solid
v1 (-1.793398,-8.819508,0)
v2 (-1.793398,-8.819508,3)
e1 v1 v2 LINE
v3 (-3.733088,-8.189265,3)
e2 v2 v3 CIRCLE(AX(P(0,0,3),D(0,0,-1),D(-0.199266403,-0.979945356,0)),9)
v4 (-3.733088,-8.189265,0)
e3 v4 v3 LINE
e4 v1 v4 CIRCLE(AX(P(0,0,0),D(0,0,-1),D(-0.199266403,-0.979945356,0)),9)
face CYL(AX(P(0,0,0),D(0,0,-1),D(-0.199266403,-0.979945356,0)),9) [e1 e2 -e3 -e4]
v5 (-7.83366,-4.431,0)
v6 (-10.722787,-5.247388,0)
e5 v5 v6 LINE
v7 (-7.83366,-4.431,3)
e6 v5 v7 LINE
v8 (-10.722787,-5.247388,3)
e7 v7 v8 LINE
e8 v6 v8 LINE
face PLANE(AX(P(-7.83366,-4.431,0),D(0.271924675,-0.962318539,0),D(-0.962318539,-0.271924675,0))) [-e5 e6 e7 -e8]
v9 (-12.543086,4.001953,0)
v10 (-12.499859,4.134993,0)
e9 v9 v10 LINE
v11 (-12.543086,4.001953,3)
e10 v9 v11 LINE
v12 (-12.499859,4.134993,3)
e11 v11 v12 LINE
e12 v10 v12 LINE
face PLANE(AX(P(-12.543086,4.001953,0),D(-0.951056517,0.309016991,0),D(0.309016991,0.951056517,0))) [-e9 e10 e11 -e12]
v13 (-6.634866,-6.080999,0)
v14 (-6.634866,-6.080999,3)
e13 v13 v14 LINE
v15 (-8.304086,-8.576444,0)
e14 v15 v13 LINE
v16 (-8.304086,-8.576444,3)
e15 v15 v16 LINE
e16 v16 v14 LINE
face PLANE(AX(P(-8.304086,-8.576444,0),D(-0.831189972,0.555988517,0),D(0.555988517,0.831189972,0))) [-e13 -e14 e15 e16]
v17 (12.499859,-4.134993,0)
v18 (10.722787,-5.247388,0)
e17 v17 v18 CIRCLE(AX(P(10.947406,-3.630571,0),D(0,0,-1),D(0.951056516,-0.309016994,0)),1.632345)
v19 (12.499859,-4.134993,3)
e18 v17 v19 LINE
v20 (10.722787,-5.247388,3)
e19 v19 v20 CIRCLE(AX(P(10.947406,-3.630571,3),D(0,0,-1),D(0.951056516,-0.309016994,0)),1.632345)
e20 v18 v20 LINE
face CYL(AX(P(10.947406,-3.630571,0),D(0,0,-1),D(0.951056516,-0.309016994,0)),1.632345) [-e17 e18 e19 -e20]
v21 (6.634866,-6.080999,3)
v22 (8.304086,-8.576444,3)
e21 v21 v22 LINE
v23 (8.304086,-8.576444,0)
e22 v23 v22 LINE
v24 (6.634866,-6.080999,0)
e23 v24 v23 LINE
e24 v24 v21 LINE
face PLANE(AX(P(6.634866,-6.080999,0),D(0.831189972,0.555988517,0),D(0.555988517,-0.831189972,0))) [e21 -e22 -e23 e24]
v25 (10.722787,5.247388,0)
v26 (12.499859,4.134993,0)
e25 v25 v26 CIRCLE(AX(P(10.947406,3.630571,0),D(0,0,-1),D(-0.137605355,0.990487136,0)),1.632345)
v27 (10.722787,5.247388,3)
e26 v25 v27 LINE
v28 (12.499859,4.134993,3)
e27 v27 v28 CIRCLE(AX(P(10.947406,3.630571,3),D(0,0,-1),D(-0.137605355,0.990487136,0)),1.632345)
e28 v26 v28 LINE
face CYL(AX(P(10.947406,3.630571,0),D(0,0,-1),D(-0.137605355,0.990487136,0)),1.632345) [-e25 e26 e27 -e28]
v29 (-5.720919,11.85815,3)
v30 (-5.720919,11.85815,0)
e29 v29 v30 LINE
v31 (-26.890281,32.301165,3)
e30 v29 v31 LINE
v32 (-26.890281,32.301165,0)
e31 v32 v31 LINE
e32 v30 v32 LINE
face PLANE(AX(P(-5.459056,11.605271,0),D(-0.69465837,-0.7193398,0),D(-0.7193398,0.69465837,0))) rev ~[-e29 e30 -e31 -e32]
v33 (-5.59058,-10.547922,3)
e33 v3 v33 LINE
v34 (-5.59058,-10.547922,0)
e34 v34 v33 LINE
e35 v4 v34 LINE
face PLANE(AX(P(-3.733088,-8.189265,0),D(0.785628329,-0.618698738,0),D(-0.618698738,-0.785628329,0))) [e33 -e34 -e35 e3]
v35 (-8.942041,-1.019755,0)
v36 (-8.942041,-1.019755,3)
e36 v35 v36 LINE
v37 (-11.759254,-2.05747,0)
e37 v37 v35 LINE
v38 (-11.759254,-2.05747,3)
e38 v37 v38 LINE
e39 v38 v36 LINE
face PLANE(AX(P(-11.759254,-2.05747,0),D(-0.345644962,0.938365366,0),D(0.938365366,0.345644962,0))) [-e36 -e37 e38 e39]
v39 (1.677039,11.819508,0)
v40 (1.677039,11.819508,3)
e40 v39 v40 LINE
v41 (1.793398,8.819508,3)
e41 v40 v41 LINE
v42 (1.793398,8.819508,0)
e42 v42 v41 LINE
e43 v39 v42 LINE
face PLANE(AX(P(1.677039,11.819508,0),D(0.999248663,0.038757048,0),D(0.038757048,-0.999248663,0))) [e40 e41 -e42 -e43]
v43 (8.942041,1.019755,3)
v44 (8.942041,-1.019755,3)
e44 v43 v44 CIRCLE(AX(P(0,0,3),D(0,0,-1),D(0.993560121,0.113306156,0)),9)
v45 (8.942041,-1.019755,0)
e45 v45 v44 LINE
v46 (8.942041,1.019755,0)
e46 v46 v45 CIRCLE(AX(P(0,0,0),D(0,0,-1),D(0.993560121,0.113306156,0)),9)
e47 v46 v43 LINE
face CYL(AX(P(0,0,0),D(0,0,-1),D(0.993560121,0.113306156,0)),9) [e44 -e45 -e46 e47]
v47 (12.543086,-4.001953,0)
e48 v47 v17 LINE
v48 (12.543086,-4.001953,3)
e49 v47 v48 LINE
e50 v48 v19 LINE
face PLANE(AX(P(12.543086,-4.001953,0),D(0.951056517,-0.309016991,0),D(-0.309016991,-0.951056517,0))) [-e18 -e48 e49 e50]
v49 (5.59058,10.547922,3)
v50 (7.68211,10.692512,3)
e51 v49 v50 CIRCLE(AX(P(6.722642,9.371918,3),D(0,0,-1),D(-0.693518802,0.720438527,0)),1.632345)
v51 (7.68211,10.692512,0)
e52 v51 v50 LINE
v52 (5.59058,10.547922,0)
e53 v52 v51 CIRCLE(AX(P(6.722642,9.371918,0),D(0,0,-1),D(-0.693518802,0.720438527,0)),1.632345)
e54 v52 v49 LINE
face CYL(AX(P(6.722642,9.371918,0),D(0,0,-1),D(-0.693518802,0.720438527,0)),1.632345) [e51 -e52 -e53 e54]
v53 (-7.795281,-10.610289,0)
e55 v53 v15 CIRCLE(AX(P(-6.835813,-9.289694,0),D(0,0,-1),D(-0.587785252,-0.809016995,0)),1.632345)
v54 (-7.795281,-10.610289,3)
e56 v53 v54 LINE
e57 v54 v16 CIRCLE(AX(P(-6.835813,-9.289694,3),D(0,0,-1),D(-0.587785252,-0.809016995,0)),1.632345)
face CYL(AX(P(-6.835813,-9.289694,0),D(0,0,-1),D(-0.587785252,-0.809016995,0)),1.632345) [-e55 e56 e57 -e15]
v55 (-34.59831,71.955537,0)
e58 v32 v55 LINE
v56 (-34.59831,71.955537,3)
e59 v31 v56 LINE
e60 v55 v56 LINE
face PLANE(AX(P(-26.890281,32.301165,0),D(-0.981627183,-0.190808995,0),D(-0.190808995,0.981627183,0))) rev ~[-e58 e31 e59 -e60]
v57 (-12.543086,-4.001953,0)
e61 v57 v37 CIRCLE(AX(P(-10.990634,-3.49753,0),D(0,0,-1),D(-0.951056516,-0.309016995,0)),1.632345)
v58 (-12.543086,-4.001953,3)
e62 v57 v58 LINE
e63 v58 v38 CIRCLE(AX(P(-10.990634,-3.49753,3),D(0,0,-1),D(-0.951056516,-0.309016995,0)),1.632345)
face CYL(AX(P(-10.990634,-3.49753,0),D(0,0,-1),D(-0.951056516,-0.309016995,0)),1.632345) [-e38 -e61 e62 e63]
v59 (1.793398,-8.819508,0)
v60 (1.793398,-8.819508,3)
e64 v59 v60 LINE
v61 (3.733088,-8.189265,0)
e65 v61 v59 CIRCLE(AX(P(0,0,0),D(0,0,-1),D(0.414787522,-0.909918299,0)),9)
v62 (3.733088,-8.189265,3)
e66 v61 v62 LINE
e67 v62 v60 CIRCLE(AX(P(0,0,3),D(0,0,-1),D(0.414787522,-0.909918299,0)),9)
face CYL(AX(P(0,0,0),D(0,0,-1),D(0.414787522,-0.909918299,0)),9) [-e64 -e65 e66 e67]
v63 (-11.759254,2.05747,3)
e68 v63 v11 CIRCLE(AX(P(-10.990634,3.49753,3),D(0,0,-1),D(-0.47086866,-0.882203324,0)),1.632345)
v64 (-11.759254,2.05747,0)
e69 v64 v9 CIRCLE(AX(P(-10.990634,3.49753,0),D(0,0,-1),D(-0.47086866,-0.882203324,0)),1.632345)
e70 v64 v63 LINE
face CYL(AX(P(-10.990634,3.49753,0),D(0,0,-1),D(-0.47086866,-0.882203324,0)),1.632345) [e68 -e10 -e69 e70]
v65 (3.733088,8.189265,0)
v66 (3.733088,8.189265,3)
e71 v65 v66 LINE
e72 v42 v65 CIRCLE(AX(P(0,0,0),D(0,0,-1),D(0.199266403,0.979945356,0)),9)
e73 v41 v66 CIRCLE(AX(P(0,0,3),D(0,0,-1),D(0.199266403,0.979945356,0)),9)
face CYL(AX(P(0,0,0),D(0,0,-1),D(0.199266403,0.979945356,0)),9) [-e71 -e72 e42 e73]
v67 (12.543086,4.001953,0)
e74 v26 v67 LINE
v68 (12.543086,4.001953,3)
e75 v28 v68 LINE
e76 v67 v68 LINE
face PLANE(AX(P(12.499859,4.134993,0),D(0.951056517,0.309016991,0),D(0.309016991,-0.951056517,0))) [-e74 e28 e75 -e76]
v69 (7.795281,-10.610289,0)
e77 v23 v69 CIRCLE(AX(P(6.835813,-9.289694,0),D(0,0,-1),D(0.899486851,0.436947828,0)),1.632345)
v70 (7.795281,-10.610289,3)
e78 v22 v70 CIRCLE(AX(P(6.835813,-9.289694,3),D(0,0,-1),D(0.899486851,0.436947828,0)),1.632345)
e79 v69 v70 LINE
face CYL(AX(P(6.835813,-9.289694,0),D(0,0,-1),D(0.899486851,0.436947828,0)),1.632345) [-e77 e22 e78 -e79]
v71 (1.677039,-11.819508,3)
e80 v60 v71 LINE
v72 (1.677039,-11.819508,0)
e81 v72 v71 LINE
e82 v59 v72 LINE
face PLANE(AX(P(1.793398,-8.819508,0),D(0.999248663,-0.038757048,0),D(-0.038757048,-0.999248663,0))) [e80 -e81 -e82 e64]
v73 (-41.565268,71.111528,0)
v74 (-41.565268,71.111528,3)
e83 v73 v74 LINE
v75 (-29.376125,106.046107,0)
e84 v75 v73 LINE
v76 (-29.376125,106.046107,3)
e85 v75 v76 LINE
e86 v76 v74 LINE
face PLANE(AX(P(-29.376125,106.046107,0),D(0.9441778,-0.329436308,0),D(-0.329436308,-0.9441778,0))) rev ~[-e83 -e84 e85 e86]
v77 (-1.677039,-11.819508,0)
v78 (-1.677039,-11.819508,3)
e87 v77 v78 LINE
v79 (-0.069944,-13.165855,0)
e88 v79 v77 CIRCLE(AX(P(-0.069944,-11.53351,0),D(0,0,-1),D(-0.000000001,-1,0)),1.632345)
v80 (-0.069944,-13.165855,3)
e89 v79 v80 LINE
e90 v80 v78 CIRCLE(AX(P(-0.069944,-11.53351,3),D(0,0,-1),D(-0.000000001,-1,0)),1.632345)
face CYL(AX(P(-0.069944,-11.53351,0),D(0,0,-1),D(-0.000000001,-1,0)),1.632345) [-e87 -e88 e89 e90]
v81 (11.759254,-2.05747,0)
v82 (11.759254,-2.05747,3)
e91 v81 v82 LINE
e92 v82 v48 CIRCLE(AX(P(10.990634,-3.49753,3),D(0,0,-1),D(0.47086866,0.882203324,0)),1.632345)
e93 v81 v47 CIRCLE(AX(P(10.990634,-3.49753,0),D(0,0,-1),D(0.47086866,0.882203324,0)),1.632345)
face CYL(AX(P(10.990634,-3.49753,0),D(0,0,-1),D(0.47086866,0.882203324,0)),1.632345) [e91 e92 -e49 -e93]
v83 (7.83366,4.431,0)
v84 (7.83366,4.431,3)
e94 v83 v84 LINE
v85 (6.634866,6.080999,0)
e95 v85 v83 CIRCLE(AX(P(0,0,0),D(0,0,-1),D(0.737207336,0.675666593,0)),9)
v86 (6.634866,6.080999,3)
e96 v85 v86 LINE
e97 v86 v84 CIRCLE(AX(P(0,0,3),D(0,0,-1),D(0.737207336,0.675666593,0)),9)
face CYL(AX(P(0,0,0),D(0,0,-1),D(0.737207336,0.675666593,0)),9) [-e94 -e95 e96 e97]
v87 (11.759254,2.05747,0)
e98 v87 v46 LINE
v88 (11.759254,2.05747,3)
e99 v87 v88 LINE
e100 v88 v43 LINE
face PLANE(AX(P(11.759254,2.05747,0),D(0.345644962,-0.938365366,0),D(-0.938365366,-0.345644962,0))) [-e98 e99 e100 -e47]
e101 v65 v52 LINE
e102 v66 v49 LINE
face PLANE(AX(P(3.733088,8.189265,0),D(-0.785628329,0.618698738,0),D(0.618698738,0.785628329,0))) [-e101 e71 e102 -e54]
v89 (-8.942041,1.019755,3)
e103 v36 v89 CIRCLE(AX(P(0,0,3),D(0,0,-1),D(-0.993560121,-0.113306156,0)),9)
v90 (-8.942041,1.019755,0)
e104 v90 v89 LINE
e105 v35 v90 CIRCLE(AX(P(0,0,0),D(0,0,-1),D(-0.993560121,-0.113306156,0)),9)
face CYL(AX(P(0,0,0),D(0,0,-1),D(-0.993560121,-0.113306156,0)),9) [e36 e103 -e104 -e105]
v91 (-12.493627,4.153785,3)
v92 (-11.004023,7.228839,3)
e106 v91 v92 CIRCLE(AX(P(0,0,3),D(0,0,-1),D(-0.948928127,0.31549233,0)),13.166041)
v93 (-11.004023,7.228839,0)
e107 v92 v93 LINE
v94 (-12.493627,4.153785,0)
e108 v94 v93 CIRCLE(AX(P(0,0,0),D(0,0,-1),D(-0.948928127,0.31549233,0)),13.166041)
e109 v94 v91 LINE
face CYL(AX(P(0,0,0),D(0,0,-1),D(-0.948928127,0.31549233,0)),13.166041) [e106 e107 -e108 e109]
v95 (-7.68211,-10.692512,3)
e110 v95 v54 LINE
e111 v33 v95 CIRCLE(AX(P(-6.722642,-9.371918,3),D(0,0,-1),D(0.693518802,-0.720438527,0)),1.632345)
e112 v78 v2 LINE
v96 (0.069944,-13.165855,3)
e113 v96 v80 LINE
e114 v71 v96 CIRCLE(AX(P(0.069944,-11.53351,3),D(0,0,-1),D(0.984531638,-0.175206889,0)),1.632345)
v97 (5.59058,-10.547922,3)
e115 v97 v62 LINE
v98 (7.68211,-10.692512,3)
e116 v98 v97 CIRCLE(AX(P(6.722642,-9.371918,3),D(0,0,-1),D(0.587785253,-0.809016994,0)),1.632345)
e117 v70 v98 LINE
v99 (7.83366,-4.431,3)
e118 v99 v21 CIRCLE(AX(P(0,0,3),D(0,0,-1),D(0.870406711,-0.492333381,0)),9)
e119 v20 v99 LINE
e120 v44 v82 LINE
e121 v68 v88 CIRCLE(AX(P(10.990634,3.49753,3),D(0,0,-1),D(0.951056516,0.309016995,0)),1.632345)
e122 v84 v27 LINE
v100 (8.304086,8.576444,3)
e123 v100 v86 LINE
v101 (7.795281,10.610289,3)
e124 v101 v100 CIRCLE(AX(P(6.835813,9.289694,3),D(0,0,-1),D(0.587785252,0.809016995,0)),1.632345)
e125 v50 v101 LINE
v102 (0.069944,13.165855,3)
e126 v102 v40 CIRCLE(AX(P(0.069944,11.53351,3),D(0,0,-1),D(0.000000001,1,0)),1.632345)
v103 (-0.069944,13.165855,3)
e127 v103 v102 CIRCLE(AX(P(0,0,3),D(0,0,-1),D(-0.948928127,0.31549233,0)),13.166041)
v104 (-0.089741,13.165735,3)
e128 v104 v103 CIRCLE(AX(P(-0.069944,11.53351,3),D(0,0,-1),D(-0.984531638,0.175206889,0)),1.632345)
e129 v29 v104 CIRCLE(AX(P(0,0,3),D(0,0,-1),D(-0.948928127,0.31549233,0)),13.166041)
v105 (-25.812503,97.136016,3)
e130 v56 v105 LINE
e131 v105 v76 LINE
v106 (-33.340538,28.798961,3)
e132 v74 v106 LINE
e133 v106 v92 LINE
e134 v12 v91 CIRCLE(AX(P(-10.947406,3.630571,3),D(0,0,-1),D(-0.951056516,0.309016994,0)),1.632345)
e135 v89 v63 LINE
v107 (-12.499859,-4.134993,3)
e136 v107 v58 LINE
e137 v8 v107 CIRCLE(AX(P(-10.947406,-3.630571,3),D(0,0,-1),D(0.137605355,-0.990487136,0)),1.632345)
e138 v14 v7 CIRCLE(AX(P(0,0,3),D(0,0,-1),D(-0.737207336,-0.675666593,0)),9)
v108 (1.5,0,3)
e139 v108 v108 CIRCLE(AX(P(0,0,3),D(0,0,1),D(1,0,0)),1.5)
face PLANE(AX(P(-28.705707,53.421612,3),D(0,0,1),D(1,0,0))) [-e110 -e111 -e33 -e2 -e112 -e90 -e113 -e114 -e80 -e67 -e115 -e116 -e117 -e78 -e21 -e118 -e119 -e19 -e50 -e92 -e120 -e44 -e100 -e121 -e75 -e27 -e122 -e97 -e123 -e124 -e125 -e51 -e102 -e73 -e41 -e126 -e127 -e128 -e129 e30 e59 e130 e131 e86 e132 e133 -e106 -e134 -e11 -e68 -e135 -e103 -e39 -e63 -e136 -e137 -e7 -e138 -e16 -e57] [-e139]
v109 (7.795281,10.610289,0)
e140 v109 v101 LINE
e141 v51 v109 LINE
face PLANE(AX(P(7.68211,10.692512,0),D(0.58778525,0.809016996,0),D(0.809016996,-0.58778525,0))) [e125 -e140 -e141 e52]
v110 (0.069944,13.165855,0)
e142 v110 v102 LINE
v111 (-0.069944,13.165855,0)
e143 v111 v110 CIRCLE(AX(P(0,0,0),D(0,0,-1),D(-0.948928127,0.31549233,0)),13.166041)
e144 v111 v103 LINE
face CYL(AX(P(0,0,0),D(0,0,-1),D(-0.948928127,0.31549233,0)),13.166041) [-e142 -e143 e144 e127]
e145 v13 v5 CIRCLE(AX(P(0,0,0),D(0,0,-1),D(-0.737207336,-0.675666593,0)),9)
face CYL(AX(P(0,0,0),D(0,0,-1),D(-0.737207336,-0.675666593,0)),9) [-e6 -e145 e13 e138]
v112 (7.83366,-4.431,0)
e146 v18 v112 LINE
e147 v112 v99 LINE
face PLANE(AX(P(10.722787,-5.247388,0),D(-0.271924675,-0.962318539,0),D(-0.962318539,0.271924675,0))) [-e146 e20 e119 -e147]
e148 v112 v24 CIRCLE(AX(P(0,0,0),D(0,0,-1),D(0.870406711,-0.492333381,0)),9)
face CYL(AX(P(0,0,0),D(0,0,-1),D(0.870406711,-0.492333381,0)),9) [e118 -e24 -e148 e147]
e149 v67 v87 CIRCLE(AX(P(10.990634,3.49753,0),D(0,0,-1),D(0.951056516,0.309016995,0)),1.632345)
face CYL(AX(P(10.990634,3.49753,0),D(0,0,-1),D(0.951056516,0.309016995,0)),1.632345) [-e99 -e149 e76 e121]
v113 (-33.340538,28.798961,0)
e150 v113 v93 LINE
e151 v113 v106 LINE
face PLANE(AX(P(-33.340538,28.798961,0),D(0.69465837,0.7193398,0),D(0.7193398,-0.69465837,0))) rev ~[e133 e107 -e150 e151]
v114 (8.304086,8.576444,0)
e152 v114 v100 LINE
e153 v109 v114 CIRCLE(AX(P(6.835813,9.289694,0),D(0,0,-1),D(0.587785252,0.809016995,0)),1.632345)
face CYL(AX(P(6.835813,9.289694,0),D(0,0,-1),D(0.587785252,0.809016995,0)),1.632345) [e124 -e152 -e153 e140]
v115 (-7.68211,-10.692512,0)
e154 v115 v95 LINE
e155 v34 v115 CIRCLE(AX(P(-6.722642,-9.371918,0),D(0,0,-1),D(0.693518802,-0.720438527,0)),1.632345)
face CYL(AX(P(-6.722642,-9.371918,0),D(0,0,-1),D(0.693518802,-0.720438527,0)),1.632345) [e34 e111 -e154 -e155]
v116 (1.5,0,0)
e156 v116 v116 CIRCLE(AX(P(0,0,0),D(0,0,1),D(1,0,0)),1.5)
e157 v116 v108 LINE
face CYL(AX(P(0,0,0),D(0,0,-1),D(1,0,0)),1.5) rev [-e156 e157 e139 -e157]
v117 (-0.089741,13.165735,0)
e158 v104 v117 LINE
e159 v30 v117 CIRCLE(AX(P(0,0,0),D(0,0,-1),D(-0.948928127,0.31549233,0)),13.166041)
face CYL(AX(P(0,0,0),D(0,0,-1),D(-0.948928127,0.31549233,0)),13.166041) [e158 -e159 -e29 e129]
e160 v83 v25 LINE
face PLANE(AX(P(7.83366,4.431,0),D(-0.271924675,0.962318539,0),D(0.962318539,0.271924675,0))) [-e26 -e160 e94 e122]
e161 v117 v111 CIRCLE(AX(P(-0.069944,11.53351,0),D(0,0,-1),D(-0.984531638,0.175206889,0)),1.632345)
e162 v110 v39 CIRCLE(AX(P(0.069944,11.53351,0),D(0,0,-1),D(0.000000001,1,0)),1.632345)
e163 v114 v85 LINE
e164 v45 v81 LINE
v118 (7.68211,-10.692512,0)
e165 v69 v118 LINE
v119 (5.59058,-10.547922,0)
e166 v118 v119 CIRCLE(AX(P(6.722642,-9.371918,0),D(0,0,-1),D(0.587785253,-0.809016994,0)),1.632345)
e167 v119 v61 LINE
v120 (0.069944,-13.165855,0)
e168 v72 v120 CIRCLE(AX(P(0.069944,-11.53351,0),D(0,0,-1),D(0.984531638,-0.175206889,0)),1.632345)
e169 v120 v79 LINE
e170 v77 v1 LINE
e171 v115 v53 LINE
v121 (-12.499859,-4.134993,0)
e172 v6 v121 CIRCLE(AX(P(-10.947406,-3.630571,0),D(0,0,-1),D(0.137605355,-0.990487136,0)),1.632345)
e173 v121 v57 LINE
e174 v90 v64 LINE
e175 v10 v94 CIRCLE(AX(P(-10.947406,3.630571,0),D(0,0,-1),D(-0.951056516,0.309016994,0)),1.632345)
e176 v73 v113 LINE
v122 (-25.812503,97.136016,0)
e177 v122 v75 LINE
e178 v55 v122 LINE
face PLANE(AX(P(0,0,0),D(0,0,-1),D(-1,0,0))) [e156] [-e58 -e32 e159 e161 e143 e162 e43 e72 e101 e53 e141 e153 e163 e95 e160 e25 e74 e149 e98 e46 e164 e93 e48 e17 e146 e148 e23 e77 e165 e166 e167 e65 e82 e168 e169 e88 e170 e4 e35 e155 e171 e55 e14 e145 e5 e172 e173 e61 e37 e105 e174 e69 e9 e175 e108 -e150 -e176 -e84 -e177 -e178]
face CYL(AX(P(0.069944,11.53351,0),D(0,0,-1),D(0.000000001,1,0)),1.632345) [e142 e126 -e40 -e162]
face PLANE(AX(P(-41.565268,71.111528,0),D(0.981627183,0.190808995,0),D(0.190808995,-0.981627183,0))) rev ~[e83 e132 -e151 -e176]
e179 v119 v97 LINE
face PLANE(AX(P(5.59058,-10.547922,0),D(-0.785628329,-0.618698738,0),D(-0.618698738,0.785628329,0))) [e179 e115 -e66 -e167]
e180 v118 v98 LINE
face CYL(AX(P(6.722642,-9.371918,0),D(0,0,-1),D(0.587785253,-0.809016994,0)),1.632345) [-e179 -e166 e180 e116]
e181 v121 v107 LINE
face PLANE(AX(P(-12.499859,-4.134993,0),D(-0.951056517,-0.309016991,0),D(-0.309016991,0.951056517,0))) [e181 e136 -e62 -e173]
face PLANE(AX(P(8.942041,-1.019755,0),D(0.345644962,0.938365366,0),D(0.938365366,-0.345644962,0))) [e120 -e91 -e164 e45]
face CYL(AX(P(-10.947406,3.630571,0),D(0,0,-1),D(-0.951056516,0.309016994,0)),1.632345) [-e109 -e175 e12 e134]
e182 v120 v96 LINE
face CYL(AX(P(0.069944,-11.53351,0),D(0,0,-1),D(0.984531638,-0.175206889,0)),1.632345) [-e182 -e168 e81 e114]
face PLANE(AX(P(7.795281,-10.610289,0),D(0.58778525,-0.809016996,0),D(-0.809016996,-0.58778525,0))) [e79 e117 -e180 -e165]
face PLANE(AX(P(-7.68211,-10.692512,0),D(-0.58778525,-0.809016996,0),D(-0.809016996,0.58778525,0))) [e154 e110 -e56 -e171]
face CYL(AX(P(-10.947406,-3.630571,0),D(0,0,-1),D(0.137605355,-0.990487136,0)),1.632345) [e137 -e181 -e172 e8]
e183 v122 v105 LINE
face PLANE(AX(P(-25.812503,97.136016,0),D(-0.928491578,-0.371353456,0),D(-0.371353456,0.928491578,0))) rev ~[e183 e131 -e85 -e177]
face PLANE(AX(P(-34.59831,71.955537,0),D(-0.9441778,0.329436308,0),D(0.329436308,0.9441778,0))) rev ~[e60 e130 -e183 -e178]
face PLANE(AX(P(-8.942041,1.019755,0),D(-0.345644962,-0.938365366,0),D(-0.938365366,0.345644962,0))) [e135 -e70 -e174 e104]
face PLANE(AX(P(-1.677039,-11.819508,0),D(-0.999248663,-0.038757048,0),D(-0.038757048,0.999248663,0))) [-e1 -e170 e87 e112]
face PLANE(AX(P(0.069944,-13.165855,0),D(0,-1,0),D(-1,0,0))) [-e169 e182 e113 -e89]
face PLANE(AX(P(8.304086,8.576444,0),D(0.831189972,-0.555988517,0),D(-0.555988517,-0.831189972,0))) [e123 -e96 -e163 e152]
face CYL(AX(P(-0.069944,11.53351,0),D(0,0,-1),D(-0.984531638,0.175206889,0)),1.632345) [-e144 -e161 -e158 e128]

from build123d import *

# Parameters (mm, degrees)
SKETCH_1_R      = 1.5
EXTRUDE_2_DEPTH = 3
EXTRUDE_4_DEPTH = 3
EXTRUDE_6_DEPTH = 3


with BuildPart() as part:
    # 草圖1 → 填料-伸長2 (new body)
    with BuildSketch(Plane.XY):
        with BuildLine():
            Line((-1.793397634, 8.819508202), (-1.677039065, 11.819508202))
            ThreePointArc((-1.677039065, 11.819508202), (-1.118204833, 12.784789062), (-0.06994368, 13.165855188))
            Line((-0.06994368, 13.165855188), (0.06994368, 13.165855188))
            ThreePointArc((0.06994368, 13.165855188), (1.118204833, 12.784789062), (1.677039065, 11.819508202))
            Line((1.677039065, 11.819508202), (1.793397634, 8.819508202))
            ThreePointArc((1.793397634, 8.819508202), (2.781152949, 8.559508647), (3.73308769, 8.189264698))
            Line((3.73308769, 8.189264698), (5.590579507, 10.54792183))
            ThreePointArc((5.590579507, 10.54792183), (6.610063751, 11.000375931), (7.682109887, 10.692512456))
            Line((7.682109887, 10.692512456), (7.795281139, 10.610288729))
            ThreePointArc((7.795281139, 10.610288729), (8.419357178, 9.685847311), (8.304085714, 8.576444171))
            Line((8.304085714, 8.576444171), (6.634866017, 6.080999337))
            ThreePointArc((6.634866017, 6.080999337), (7.281152949, 5.290067271), (7.8336604, 4.431000423))
            Line((7.8336604, 4.431000423), (10.722786724, 5.24738783))
            ThreePointArc((10.722786724, 5.24738783), (11.81351265, 5.014193083), (12.499858583, 4.134993391))
            Line((12.499858583, 4.134993391), (12.543086154, 4.001952606))
            ThreePointArc((12.543086154, 4.001952606), (12.504601244, 2.887241097), (11.759253866, 2.057469969))
            Line((11.759253866, 2.057469969), (8.942041093, 1.01975541))
            ThreePointArc((8.942041093, 1.01975541), (9, 0), (8.942041093, -1.01975541))
            Line((8.942041093, -1.01975541), (11.759253866, -2.057469969))
            ThreePointArc((11.759253866, -2.057469969), (12.504601244, -2.887241097), (12.543086154, -4.001952606))
            Line((12.543086154, -4.001952606), (12.499858583, -4.134993391))
            ThreePointArc((12.499858583, -4.134993391), (11.81351265, -5.014193083), (10.722786724, -5.24738783))
            Line((10.722786724, -5.24738783), (7.8336604, -4.431000423))
            ThreePointArc((7.8336604, -4.431000423), (7.281152949, -5.290067271), (6.634866017, -6.080999337))
            Line((6.634866017, -6.080999337), (8.304085714, -8.576444171))
            ThreePointArc((8.304085714, -8.576444171), (8.419357178, -9.685847311), (7.795281139, -10.610288729))
            Line((7.795281139, -10.610288729), (7.682109887, -10.692512456))
            ThreePointArc((7.682109887, -10.692512456), (6.610063751, -11.000375931), (5.590579507, -10.54792183))
            Line((5.590579507, -10.54792183), (3.73308769, -8.189264698))
            ThreePointArc((3.73308769, -8.189264698), (2.781152949, -8.559508647), (1.793397634, -8.819508202))
            Line((1.793397634, -8.819508202), (1.677039065, -11.819508202))
            ThreePointArc((1.677039065, -11.819508202), (1.118204833, -12.784789062), (0.06994368, -13.165855188))
            Line((0.06994368, -13.165855188), (-0.06994368, -13.165855188))
            ThreePointArc((-0.06994368, -13.165855188), (-1.118204833, -12.784789062), (-1.677039065, -11.819508202))
            Line((-1.677039065, -11.819508202), (-1.793397634, -8.819508202))
            ThreePointArc((-1.793397634, -8.819508202), (-2.781152949, -8.559508647), (-3.73308769, -8.189264698))
            Line((-3.73308769, -8.189264698), (-5.590579507, -10.54792183))
            ThreePointArc((-5.590579507, -10.54792183), (-6.610063751, -11.000375931), (-7.682109887, -10.692512456))
            Line((-7.682109887, -10.692512456), (-7.795281139, -10.610288729))
            ThreePointArc((-7.795281139, -10.610288729), (-8.419357178, -9.685847311), (-8.304085714, -8.576444171))
            Line((-8.304085714, -8.576444171), (-6.634866017, -6.080999337))
            ThreePointArc((-6.634866017, -6.080999337), (-7.281152949, -5.290067271), (-7.8336604, -4.431000423))
            Line((-7.8336604, -4.431000423), (-10.722786724, -5.24738783))
            ThreePointArc((-10.722786724, -5.24738783), (-11.81351265, -5.014193083), (-12.499858583, -4.134993391))
            Line((-12.499858583, -4.134993391), (-12.543086154, -4.001952606))
            ThreePointArc((-12.543086154, -4.001952606), (-12.504601244, -2.887241097), (-11.759253866, -2.057469969))
            Line((-11.759253866, -2.057469969), (-8.942041093, -1.01975541))
            ThreePointArc((-8.942041093, -1.01975541), (-9, 0), (-8.942041093, 1.01975541))
            Line((-8.942041093, 1.01975541), (-11.759253866, 2.057469969))
            ThreePointArc((-11.759253866, 2.057469969), (-12.504601244, 2.887241097), (-12.543086154, 4.001952606))
            Line((-12.543086154, 4.001952606), (-12.499858583, 4.134993391))
            ThreePointArc((-12.499858583, 4.134993391), (-11.81351265, 5.014193083), (-10.722786724, 5.24738783))
            Line((-10.722786724, 5.24738783), (-7.8336604, 4.431000423))
            ThreePointArc((-7.8336604, 4.431000423), (-7.281152949, 5.290067271), (-6.634866017, 6.080999337))
            Line((-6.634866017, 6.080999337), (-8.304085714, 8.576444171))
            ThreePointArc((-8.304085714, 8.576444171), (-8.419357178, 9.685847311), (-7.795281139, 10.610288729))
            Line((-7.795281139, 10.610288729), (-7.682109887, 10.692512456))
            ThreePointArc((-7.682109887, 10.692512456), (-6.610063751, 11.000375931), (-5.590579507, 10.54792183))
            Line((-5.590579507, 10.54792183), (-3.73308769, 8.189264698))
            ThreePointArc((-3.73308769, 8.189264698), (-2.781152949, 8.559508647), (-1.793397634, 8.819508202))
        make_face()
        Circle(SKETCH_1_R, mode=Mode.SUBTRACT)
    extrude(amount=EXTRUDE_2_DEPTH)

    # 草圖2 → 填料-伸長4 (add)
    with BuildSketch(Plane.XY):
        with BuildLine():
            Line((0.06994368, 13.165855188), (0.06994368, 2.180013358))
            Line((0.06994368, 2.180013358), (-12.493626598, 4.153784946))
            ThreePointArc((-12.493626598, 4.153784946), (-7.674068466, 10.698285289), (0.06994368, 13.165855188))
        make_face()
    extrude(amount=EXTRUDE_4_DEPTH)

    # 草圖5 → 填料-伸長6 (add)
    with BuildSketch(Plane(origin=(0, 0, 0), x_dir=(-1, 0, 0), z_dir=(0, 0, -1))):
        Polygon((5.459056235, 11.60527133), (26.890281071, 32.301164585), (34.5983103, 71.955537312), (25.812503152, 97.136016411), (29.376125038, 106.046106934), (41.565268435, 71.111528315), (33.340538439, 28.798960582), (10.321664828, 6.569892728), align=None)
    extrude(amount=-EXTRUDE_6_DEPTH)


solid = part.part
